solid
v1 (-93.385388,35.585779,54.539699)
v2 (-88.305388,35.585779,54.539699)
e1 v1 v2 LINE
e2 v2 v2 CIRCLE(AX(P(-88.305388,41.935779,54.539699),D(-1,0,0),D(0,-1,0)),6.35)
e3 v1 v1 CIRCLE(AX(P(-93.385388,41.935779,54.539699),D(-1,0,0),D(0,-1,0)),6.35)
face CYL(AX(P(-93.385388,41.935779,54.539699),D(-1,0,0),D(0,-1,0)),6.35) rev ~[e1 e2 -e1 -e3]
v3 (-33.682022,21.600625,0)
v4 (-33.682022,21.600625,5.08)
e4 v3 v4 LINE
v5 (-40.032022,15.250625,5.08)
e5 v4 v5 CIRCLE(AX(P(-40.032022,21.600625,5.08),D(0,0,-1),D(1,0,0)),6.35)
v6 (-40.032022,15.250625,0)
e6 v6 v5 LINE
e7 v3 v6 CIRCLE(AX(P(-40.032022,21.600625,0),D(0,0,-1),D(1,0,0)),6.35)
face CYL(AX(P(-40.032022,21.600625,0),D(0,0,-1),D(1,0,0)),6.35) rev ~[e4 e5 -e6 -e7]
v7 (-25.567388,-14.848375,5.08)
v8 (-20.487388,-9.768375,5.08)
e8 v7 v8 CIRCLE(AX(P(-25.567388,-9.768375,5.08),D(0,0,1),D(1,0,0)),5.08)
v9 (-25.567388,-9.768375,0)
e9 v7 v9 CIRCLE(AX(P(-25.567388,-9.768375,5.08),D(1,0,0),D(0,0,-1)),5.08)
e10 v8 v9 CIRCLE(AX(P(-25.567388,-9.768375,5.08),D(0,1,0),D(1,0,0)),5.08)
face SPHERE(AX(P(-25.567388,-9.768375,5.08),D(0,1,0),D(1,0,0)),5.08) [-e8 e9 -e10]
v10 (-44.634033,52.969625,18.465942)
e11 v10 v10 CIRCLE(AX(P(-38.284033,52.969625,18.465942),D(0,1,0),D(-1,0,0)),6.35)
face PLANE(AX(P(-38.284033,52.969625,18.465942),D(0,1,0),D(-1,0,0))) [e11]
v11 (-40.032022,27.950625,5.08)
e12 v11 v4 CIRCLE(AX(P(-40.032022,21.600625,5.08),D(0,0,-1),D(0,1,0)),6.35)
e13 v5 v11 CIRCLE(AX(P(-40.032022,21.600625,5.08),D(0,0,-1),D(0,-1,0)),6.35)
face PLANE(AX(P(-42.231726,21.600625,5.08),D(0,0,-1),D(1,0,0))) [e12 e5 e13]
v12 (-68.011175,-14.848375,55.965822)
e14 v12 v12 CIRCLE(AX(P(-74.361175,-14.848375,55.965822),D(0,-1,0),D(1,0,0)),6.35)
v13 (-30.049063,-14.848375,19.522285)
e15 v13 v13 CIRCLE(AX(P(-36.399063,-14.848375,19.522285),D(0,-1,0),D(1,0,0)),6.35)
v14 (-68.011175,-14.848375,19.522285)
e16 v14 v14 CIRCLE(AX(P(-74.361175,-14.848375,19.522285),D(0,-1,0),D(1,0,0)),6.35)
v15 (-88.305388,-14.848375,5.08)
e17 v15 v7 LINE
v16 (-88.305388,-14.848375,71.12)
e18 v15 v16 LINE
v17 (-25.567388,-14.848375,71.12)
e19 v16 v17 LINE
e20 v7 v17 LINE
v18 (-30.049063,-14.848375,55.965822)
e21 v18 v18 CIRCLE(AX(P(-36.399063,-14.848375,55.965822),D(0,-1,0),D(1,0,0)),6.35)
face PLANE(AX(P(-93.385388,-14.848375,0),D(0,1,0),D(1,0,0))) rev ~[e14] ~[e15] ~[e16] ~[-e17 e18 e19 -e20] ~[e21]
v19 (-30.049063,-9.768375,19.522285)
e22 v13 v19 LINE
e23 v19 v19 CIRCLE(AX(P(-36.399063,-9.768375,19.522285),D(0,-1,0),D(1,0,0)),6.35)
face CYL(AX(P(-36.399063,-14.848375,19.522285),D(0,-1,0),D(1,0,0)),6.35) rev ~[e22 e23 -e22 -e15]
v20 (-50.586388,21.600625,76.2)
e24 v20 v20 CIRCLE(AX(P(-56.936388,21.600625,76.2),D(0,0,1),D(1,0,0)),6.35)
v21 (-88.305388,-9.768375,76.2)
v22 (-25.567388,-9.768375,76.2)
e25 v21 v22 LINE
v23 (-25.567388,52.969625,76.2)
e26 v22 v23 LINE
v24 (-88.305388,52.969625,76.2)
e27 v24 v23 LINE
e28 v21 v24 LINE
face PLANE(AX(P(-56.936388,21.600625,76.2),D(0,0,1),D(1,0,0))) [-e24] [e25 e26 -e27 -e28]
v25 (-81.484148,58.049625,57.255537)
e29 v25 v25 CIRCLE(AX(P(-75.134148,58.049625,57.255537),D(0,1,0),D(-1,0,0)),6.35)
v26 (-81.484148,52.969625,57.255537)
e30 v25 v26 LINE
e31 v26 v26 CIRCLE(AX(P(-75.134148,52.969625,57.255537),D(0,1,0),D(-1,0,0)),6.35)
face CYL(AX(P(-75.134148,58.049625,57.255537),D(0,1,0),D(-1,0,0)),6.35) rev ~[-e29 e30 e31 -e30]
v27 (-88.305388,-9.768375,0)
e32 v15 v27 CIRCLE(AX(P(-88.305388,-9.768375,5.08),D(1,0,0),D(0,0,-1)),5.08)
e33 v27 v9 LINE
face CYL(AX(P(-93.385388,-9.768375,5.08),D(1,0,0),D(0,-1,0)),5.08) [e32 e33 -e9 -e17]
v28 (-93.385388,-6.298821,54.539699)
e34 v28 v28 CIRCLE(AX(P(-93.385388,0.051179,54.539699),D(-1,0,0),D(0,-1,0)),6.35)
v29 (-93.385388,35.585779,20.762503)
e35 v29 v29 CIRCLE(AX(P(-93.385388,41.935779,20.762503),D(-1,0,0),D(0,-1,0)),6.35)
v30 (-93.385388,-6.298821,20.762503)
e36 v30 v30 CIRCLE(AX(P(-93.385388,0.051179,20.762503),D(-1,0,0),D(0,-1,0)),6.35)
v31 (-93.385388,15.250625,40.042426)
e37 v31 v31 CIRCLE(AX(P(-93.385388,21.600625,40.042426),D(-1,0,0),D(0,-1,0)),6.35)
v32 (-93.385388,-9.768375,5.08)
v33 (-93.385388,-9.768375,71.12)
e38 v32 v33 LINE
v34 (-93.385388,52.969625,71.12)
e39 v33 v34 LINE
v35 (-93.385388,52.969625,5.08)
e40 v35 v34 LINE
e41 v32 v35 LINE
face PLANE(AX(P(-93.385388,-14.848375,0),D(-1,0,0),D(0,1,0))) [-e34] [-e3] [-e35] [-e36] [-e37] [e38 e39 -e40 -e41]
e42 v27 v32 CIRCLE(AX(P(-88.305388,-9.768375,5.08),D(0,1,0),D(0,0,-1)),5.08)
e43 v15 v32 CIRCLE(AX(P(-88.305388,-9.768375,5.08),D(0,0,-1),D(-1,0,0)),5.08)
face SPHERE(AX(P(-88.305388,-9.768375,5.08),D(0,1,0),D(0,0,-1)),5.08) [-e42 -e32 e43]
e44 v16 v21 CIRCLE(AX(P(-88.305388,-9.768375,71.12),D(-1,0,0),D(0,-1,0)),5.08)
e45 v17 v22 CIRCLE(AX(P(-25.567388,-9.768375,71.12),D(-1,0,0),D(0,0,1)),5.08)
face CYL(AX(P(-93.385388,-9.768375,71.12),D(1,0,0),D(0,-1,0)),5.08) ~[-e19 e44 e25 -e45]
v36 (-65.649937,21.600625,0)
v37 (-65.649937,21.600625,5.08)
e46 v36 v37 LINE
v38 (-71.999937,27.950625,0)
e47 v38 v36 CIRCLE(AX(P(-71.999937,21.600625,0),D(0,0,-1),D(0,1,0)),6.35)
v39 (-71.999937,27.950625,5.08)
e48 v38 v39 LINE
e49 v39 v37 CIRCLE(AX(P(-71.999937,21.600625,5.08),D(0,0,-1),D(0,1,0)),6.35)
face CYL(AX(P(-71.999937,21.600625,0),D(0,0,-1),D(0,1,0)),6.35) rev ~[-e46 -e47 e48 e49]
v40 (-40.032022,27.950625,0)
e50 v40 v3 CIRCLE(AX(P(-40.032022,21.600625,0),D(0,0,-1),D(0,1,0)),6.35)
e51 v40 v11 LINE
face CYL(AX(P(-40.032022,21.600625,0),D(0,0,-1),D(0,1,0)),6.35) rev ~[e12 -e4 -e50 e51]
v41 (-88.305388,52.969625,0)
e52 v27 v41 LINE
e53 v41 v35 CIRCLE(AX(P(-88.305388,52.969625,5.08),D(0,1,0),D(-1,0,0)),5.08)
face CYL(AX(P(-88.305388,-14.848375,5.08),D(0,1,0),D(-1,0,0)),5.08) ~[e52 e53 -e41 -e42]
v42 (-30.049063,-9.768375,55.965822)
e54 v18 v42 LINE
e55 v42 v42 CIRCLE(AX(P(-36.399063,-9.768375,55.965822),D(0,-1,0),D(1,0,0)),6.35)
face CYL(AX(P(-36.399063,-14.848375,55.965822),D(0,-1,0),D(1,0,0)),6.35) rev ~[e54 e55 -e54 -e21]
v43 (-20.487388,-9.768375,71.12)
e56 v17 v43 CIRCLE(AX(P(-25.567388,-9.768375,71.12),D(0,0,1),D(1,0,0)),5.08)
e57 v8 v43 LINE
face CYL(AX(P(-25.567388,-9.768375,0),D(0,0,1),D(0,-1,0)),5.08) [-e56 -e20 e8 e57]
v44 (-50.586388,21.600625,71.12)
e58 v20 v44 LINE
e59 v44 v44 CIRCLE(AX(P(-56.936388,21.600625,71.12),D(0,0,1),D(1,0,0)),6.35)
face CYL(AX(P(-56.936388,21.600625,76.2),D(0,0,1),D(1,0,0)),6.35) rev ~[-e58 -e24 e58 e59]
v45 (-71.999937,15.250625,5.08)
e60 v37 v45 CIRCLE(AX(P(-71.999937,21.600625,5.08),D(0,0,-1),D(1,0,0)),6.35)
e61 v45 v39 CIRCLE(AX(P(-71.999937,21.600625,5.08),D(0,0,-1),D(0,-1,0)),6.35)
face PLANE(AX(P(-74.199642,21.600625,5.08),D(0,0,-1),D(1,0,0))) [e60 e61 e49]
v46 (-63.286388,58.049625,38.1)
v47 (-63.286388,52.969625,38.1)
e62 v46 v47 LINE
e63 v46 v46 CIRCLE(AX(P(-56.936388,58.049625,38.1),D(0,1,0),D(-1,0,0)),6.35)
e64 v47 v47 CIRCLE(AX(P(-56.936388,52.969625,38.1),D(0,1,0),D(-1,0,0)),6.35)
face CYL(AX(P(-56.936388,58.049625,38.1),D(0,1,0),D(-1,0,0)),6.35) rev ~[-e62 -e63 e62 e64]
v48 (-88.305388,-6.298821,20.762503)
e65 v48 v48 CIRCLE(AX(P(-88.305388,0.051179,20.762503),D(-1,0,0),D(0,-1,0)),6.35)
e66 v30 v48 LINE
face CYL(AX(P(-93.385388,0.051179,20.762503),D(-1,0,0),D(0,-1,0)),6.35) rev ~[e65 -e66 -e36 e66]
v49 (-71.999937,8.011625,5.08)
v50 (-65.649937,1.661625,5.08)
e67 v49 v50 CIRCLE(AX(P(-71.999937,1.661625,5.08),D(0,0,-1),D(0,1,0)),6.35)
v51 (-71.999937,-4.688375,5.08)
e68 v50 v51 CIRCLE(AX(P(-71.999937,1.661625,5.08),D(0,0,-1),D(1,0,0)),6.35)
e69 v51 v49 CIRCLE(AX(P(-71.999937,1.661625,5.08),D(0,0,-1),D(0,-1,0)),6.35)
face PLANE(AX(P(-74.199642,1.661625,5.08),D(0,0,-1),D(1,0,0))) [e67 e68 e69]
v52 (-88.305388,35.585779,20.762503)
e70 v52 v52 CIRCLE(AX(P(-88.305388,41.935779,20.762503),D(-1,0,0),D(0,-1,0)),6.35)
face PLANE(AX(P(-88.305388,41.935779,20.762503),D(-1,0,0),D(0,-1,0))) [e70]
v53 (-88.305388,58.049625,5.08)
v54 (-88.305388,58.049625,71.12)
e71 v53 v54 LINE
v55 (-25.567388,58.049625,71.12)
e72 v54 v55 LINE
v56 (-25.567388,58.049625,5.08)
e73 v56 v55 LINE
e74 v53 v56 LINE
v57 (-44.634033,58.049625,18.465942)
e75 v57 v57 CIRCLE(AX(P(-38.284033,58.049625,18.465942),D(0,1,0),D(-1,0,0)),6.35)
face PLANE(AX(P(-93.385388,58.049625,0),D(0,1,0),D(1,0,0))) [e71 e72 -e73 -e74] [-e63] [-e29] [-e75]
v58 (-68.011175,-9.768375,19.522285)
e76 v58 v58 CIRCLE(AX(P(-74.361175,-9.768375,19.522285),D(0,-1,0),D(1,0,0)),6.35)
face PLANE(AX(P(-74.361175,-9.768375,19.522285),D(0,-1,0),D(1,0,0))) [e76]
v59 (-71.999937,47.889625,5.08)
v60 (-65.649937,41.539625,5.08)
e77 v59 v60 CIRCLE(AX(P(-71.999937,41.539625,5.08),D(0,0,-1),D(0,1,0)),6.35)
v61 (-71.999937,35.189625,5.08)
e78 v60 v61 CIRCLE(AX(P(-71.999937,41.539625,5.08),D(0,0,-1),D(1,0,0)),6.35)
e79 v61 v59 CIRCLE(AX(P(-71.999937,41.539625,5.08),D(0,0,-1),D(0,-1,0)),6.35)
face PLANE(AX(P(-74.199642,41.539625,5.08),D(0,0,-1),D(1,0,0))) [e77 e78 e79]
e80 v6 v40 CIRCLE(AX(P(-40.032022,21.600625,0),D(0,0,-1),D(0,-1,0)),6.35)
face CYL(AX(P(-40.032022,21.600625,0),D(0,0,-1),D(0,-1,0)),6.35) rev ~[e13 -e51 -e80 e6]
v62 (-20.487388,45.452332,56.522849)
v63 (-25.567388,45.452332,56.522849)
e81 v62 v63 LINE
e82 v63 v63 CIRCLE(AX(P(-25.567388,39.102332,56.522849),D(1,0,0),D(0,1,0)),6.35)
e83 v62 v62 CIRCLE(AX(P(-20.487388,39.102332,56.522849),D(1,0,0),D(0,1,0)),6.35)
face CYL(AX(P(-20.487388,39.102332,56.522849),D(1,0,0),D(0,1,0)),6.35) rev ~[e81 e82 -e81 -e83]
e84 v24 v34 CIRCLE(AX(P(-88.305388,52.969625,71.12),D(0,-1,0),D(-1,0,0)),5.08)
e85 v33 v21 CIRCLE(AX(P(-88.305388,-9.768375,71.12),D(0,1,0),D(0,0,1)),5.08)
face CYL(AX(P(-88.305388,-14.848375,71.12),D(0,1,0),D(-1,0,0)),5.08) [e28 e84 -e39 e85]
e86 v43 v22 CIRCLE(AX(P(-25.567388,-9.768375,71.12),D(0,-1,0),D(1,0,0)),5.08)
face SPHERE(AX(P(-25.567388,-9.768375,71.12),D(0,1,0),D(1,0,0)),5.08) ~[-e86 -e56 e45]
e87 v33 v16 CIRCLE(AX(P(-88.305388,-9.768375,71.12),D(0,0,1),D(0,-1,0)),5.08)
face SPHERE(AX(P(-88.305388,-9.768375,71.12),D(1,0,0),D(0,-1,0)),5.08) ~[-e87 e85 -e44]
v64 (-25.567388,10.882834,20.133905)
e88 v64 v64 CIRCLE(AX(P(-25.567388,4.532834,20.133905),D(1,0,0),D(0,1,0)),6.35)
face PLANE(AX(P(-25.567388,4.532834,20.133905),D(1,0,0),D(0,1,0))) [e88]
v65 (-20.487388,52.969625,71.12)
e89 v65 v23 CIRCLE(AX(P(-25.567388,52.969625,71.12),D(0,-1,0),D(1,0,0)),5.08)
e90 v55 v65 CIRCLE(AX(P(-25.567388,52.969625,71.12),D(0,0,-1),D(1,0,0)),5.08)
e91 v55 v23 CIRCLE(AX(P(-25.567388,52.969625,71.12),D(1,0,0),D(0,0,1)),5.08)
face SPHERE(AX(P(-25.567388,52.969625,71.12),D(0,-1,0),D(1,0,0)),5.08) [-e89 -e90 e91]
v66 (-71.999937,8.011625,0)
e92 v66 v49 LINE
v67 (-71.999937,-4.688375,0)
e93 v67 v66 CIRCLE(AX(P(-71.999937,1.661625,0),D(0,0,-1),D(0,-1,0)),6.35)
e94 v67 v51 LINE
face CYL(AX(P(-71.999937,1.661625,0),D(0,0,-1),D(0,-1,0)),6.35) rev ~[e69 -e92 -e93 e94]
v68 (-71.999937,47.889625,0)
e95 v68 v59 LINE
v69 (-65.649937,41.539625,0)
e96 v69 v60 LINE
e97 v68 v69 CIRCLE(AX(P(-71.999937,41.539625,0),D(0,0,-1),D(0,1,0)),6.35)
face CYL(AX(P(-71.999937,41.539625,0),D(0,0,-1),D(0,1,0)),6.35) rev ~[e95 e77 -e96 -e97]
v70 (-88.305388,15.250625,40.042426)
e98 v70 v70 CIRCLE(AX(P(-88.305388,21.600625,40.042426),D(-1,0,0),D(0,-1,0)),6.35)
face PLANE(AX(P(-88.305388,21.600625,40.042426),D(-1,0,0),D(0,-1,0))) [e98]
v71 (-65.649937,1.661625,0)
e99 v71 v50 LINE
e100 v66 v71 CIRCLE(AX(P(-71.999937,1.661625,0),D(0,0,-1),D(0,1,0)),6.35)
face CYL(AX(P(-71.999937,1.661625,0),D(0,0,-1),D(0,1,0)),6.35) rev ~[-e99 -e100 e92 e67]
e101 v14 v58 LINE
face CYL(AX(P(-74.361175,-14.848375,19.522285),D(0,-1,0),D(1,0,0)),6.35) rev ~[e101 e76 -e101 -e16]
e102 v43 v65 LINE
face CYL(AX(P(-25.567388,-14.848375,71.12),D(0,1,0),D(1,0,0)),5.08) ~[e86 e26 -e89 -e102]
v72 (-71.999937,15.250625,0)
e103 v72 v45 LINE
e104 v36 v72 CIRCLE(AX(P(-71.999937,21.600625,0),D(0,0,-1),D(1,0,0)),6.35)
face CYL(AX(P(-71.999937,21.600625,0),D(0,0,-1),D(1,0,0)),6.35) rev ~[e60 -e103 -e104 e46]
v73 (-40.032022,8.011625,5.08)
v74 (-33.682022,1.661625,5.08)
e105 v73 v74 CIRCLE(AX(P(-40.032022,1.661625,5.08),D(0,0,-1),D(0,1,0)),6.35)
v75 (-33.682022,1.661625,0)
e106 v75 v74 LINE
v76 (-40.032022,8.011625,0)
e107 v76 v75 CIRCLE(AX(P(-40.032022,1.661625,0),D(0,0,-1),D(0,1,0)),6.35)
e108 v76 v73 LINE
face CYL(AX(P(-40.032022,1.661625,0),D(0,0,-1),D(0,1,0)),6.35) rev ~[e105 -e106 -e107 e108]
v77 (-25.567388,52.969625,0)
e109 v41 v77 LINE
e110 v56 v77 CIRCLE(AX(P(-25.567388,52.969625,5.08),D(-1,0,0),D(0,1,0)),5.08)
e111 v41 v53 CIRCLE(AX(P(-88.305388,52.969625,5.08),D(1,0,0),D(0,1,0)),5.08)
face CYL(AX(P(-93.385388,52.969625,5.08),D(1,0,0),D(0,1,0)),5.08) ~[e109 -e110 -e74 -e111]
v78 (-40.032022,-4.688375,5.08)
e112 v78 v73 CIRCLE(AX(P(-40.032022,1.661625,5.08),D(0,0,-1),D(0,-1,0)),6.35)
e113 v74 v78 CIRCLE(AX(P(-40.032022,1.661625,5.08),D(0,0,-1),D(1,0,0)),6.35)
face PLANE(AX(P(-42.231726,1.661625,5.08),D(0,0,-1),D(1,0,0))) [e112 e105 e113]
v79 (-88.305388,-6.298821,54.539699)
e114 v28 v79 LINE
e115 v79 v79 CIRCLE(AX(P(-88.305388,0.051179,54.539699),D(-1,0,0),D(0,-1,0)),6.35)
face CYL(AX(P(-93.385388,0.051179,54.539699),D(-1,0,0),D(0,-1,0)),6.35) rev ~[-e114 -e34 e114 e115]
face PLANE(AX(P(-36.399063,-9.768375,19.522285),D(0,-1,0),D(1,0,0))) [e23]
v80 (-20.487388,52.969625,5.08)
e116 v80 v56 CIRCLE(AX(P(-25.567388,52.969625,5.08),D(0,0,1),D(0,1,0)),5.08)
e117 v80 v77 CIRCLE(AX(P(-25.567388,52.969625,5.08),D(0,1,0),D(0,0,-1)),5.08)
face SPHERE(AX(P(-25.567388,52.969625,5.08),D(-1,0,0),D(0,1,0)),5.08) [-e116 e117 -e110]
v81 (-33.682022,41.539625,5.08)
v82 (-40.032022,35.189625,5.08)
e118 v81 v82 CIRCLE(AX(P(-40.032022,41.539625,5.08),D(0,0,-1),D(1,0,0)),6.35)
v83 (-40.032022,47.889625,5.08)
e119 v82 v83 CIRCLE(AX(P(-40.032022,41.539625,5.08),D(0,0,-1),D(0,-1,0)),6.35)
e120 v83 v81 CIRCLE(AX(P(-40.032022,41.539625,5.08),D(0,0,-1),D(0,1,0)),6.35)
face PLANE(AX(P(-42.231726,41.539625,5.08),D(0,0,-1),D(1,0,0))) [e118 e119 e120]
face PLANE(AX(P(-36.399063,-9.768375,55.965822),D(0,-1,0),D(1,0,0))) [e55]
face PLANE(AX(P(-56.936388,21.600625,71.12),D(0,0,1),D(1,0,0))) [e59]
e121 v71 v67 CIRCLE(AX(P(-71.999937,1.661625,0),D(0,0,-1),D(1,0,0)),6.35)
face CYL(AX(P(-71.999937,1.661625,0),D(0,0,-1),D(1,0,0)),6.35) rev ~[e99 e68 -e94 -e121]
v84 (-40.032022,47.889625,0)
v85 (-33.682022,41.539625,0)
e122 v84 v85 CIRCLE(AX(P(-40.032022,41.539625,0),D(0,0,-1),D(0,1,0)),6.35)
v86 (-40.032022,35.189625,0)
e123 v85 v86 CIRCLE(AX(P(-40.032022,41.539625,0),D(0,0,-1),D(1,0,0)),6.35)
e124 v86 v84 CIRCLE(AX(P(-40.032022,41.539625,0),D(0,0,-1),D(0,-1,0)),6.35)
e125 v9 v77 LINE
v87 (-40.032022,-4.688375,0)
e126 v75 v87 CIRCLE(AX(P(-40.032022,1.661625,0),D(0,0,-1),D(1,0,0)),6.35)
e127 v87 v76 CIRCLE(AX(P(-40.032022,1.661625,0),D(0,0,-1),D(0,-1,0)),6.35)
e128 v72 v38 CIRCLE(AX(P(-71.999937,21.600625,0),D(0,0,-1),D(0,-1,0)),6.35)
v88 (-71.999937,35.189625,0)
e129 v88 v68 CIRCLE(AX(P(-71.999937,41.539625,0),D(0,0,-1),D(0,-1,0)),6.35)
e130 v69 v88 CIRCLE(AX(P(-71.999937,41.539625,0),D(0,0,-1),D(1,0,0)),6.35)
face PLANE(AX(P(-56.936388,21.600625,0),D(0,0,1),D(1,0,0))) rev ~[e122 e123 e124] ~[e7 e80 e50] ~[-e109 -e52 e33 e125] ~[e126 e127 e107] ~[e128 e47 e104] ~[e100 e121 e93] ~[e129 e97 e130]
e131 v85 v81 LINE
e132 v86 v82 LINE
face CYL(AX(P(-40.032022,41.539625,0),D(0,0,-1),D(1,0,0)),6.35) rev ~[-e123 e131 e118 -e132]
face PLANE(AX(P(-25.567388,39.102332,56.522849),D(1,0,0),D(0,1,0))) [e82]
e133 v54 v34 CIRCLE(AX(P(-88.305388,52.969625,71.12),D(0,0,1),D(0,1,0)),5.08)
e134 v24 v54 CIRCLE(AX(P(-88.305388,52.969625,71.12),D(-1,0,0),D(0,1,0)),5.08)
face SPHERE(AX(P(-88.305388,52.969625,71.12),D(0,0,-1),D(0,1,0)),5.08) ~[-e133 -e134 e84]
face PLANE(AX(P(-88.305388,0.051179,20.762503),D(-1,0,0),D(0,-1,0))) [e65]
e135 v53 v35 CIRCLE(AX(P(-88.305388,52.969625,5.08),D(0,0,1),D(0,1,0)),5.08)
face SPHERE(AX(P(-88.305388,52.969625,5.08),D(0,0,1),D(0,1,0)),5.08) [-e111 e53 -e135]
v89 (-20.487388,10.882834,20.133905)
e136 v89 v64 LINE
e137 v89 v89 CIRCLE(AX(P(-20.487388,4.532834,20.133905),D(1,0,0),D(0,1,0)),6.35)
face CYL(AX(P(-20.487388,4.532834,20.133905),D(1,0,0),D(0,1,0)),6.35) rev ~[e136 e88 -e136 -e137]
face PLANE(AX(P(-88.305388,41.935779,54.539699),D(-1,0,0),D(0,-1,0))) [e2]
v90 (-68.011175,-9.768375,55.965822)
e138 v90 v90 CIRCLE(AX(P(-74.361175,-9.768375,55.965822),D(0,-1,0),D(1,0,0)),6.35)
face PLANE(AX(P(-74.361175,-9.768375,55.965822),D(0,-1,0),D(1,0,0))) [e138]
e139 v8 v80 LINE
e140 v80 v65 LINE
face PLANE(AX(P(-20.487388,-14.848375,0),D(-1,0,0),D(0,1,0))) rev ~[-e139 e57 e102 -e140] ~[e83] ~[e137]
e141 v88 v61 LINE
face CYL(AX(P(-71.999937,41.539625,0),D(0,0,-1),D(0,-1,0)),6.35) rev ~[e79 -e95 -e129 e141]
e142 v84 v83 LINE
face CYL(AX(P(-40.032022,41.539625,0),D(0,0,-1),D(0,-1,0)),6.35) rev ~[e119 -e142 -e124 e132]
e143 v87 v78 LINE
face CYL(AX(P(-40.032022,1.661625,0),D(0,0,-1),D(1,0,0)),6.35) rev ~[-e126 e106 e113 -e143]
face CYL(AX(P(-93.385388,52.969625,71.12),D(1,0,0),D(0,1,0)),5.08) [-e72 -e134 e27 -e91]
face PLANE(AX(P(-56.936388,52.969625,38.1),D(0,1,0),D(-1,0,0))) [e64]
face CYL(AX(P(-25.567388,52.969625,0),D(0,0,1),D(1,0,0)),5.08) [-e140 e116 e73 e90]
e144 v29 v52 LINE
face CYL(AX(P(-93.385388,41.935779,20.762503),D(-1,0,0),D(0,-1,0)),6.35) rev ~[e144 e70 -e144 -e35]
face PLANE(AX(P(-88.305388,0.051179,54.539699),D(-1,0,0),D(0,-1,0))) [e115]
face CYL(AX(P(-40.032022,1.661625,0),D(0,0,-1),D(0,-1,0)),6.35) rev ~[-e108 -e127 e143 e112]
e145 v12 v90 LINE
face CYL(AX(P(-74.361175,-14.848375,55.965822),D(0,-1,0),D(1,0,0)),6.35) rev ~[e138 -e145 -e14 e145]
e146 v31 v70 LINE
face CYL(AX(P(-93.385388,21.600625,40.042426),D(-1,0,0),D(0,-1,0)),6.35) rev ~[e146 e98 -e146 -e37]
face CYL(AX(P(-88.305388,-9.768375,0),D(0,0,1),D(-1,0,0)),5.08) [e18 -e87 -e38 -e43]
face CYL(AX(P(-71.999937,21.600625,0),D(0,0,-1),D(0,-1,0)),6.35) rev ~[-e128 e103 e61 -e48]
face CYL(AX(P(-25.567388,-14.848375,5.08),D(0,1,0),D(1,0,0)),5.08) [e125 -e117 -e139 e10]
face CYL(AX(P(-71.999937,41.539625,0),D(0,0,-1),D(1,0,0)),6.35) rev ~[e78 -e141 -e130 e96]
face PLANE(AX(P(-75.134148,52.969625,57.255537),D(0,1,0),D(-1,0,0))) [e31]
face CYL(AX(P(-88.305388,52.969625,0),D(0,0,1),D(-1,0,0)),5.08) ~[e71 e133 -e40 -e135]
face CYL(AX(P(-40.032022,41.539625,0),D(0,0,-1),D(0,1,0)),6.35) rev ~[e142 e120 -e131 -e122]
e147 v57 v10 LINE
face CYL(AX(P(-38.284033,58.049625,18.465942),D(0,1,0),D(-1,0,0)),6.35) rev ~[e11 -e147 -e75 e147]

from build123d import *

# Parameters (mm, degrees)
F0_W      = 72.898
F0_H      = 72.898
F1_DEPTH  = 76.2
F2_R      = 5.08
F3_R      = 6.35
F4_DEPTH  = 5.08
F6_DEPTH  = 5.08
F7_R      = 6.35
F8_DEPTH  = 5.08
F9_R      = 6.35
F10_DEPTH = 5.08
F11_R     = 6.35
F12_DEPTH = 5.08
F13_R     = 6.35
F14_DEPTH = 5.08


with BuildPart() as f1:
    # F0 (on Top) → F1 (new body)
    with BuildSketch(Plane.XY):
        with Locations((-56.9363877252, 21.6006250121)):
            Rectangle(F0_W, F0_H)
    extrude(amount=F1_DEPTH)

    # F2
    f2_edges = [f1.edges().sort_by_distance(p)[0] for p in [
        (-20.487388, 21.600625, 76.2),
        (-93.385388, 58.049625, 38.1),
        (-56.936388, 58.049625, 0),
        (-20.487388, 58.049625, 38.1),
        (-20.487388, 21.600625, 0),
        (-56.936388, 58.049625, 76.2),
        (-20.487388, -14.848375, 38.1),
        (-93.385388, 21.600625, 0),
        (-56.936388, -14.848375, 0),
        (-56.936388, -14.848375, 76.2),
        (-93.385388, -14.848375, 38.1),
        (-93.385388, 21.600625, 76.2),
    ]]
    fillet(f2_edges, radius=F2_R)

    # F3 (on face) → F4 (cut)
    with BuildSketch(Plane.XY.offset(76.2)):
        with Locations((-56.9363877252, 21.6006250121)):
            Circle(F3_R)
    extrude(amount=-F4_DEPTH, mode=Mode.SUBTRACT)

    # F5 (on face) → F6 (cut)
    with BuildSketch(Plane(origin=(0, 0, 0), x_dir=(1, 0, 0), z_dir=(0, 0, -1))):
        with BuildLine():
            Line((-71.9999372959, -8.0116250121), (-71.9999372959, 4.6883749879))
            ThreePointArc((-71.9999372959, 4.6883749879), (-78.3499372959, -1.6616250121), (-71.9999372959, -8.0116250121))
        make_face()
        with BuildLine():
            ThreePointArc((-65.6499372959, -1.6616250121), (-67.5098092354, 2.8285030485), (-71.9999372959, 4.6883749879))
            Line((-71.9999372959, 4.6883749879), (-71.9999372959, -8.0116250121))
            ThreePointArc((-71.9999372959, -8.0116250121), (-67.5098092354, -6.1517530726), (-65.6499372959, -1.6616250121))
        make_face()
        with BuildLine():
            ThreePointArc((-71.9999372959, -15.2506250121), (-78.3499372959, -21.6006250121), (-71.9999372959, -27.9506250121))
            Line((-71.9999372959, -27.9506250121), (-71.9999372959, -15.2506250121))
        make_face()
        with BuildLine():
            Line((-71.9999372959, -15.2506250121), (-71.9999372959, -27.9506250121))
            ThreePointArc((-71.9999372959, -27.9506250121), (-67.5098092354, -26.0907530726), (-65.6499372959, -21.6006250121))
            ThreePointArc((-65.6499372959, -21.6006250121), (-67.5098092354, -17.1104969515), (-71.9999372959, -15.2506250121))
        make_face()
        with BuildLine():
            ThreePointArc((-71.9999372959, -35.1896250121), (-78.3499372959, -41.5396250121), (-71.9999372959, -47.8896250121))
            Line((-71.9999372959, -47.8896250121), (-71.9999372959, -35.1896250121))
        make_face()
        with BuildLine():
            ThreePointArc((-40.0320217013, -35.1896250121), (-46.3820217013, -41.5396250121), (-40.0320217013, -47.8896250121))
            Line((-40.0320217013, -47.8896250121), (-40.0320217013, -35.1896250121))
        make_face()
        with BuildLine():
            Line((-40.0320217013, -35.1896250121), (-40.0320217013, -47.8896250121))
            ThreePointArc((-40.0320217013, -47.8896250121), (-35.5418936408, -46.0297530726), (-33.6820217013, -41.5396250121))
            ThreePointArc((-33.6820217013, -41.5396250121), (-35.5418936408, -37.0494969515), (-40.0320217013, -35.1896250121))
        make_face()
        with BuildLine():
            ThreePointArc((-40.0320217013, -15.2506250121), (-46.3820217013, -21.6006250121), (-40.0320217013, -27.9506250121))
            Line((-40.0320217013, -27.9506250121), (-40.0320217013, -15.2506250121))
        make_face()
        with BuildLine():
            Line((-40.0320217013, -15.2506250121), (-40.0320217013, -27.9506250121))
            ThreePointArc((-40.0320217013, -27.9506250121), (-35.5418936408, -26.0907530726), (-33.6820217013, -21.6006250121))
            ThreePointArc((-33.6820217013, -21.6006250121), (-35.5418936408, -17.1104969515), (-40.0320217013, -15.2506250121))
        make_face()
        with BuildLine():
            Line((-40.0320217013, -8.0116250121), (-40.0320217013, 4.6883749879))
            ThreePointArc((-40.0320217013, 4.6883749879), (-46.3820217013, -1.6616250121), (-40.0320217013, -8.0116250121))
        make_face()
        with BuildLine():
            ThreePointArc((-33.6820217013, -1.6616250121), (-35.5418936408, 2.8285030485), (-40.0320217013, 4.6883749879))
            Line((-40.0320217013, 4.6883749879), (-40.0320217013, -8.0116250121))
            ThreePointArc((-40.0320217013, -8.0116250121), (-35.5418936408, -6.1517530726), (-33.6820217013, -1.6616250121))
        make_face()
        with BuildLine():
            Line((-71.9999372959, -35.1896250121), (-71.9999372959, -47.8896250121))
            ThreePointArc((-71.9999372959, -47.8896250121), (-67.5098092354, -46.0297530726), (-65.6499372959, -41.5396250121))
            ThreePointArc((-65.6499372959, -41.5396250121), (-67.5098092354, -37.0494969515), (-71.9999372959, -35.1896250121))
        make_face()
    extrude(amount=-F6_DEPTH, mode=Mode.SUBTRACT)

    # F7 (on face) → F8 (cut)
    with BuildSketch(Plane.YZ.offset(-20.4873877252)):
        with Locations((39.1023317684, 56.5228492172)):
            Circle(F7_R)
        with Locations((4.5328344803, 20.1339047034)):
            Circle(F7_R)
    extrude(amount=-F8_DEPTH, mode=Mode.SUBTRACT)

    # F9 (on face) → F10 (cut)
    with BuildSketch(Plane(origin=(0, 58.0496250121, 0), x_dir=(-1, 0, 0), z_dir=(0, 1, 0))):
        with Locations((75.1341481229, 57.2555372607)):
            Circle(F9_R)
        with Locations((56.9363877252, 38.1)):
            Circle(F9_R)
        with Locations((38.2840325717, 18.4659419437)):
            Circle(F9_R)
    extrude(amount=-F10_DEPTH, mode=Mode.SUBTRACT)

    # F11 (on face) → F12 (cut)
    with BuildSketch(Plane.XZ.offset(14.8483749879)):
        with Locations((-74.3611752987, 55.96582219)):
            Circle(F11_R)
        with Locations((-36.3990627229, 55.96582219)):
            Circle(F11_R)
        with Locations((-36.3990627229, 19.5222850889)):
            Circle(F11_R)
        with Locations((-74.3611752987, 19.5222850889)):
            Circle(F11_R)
    extrude(amount=-F12_DEPTH, mode=Mode.SUBTRACT)

    # F13 (on face) → F14 (cut)
    with BuildSketch(Plane(origin=(-93.3853877252, 0, 0), x_dir=(0, -1, 0), z_dir=(-1, 0, 0))):
        with Locations((-41.9357791543, 54.5396991074)):
            Circle(F13_R)
        with Locations((-21.6006250121, 40.0424264371)):
            Circle(F13_R)
        with Locations((-0.0511793769, 54.5396991074)):
            Circle(F13_R)
        with Locations((-0.0511793769, 20.7625031471)):
            Circle(F13_R)
        with Locations((-41.9357791543, 20.7625031471)):
            Circle(F13_R)
    extrude(amount=-F14_DEPTH, mode=Mode.SUBTRACT)


solid = f1.part
